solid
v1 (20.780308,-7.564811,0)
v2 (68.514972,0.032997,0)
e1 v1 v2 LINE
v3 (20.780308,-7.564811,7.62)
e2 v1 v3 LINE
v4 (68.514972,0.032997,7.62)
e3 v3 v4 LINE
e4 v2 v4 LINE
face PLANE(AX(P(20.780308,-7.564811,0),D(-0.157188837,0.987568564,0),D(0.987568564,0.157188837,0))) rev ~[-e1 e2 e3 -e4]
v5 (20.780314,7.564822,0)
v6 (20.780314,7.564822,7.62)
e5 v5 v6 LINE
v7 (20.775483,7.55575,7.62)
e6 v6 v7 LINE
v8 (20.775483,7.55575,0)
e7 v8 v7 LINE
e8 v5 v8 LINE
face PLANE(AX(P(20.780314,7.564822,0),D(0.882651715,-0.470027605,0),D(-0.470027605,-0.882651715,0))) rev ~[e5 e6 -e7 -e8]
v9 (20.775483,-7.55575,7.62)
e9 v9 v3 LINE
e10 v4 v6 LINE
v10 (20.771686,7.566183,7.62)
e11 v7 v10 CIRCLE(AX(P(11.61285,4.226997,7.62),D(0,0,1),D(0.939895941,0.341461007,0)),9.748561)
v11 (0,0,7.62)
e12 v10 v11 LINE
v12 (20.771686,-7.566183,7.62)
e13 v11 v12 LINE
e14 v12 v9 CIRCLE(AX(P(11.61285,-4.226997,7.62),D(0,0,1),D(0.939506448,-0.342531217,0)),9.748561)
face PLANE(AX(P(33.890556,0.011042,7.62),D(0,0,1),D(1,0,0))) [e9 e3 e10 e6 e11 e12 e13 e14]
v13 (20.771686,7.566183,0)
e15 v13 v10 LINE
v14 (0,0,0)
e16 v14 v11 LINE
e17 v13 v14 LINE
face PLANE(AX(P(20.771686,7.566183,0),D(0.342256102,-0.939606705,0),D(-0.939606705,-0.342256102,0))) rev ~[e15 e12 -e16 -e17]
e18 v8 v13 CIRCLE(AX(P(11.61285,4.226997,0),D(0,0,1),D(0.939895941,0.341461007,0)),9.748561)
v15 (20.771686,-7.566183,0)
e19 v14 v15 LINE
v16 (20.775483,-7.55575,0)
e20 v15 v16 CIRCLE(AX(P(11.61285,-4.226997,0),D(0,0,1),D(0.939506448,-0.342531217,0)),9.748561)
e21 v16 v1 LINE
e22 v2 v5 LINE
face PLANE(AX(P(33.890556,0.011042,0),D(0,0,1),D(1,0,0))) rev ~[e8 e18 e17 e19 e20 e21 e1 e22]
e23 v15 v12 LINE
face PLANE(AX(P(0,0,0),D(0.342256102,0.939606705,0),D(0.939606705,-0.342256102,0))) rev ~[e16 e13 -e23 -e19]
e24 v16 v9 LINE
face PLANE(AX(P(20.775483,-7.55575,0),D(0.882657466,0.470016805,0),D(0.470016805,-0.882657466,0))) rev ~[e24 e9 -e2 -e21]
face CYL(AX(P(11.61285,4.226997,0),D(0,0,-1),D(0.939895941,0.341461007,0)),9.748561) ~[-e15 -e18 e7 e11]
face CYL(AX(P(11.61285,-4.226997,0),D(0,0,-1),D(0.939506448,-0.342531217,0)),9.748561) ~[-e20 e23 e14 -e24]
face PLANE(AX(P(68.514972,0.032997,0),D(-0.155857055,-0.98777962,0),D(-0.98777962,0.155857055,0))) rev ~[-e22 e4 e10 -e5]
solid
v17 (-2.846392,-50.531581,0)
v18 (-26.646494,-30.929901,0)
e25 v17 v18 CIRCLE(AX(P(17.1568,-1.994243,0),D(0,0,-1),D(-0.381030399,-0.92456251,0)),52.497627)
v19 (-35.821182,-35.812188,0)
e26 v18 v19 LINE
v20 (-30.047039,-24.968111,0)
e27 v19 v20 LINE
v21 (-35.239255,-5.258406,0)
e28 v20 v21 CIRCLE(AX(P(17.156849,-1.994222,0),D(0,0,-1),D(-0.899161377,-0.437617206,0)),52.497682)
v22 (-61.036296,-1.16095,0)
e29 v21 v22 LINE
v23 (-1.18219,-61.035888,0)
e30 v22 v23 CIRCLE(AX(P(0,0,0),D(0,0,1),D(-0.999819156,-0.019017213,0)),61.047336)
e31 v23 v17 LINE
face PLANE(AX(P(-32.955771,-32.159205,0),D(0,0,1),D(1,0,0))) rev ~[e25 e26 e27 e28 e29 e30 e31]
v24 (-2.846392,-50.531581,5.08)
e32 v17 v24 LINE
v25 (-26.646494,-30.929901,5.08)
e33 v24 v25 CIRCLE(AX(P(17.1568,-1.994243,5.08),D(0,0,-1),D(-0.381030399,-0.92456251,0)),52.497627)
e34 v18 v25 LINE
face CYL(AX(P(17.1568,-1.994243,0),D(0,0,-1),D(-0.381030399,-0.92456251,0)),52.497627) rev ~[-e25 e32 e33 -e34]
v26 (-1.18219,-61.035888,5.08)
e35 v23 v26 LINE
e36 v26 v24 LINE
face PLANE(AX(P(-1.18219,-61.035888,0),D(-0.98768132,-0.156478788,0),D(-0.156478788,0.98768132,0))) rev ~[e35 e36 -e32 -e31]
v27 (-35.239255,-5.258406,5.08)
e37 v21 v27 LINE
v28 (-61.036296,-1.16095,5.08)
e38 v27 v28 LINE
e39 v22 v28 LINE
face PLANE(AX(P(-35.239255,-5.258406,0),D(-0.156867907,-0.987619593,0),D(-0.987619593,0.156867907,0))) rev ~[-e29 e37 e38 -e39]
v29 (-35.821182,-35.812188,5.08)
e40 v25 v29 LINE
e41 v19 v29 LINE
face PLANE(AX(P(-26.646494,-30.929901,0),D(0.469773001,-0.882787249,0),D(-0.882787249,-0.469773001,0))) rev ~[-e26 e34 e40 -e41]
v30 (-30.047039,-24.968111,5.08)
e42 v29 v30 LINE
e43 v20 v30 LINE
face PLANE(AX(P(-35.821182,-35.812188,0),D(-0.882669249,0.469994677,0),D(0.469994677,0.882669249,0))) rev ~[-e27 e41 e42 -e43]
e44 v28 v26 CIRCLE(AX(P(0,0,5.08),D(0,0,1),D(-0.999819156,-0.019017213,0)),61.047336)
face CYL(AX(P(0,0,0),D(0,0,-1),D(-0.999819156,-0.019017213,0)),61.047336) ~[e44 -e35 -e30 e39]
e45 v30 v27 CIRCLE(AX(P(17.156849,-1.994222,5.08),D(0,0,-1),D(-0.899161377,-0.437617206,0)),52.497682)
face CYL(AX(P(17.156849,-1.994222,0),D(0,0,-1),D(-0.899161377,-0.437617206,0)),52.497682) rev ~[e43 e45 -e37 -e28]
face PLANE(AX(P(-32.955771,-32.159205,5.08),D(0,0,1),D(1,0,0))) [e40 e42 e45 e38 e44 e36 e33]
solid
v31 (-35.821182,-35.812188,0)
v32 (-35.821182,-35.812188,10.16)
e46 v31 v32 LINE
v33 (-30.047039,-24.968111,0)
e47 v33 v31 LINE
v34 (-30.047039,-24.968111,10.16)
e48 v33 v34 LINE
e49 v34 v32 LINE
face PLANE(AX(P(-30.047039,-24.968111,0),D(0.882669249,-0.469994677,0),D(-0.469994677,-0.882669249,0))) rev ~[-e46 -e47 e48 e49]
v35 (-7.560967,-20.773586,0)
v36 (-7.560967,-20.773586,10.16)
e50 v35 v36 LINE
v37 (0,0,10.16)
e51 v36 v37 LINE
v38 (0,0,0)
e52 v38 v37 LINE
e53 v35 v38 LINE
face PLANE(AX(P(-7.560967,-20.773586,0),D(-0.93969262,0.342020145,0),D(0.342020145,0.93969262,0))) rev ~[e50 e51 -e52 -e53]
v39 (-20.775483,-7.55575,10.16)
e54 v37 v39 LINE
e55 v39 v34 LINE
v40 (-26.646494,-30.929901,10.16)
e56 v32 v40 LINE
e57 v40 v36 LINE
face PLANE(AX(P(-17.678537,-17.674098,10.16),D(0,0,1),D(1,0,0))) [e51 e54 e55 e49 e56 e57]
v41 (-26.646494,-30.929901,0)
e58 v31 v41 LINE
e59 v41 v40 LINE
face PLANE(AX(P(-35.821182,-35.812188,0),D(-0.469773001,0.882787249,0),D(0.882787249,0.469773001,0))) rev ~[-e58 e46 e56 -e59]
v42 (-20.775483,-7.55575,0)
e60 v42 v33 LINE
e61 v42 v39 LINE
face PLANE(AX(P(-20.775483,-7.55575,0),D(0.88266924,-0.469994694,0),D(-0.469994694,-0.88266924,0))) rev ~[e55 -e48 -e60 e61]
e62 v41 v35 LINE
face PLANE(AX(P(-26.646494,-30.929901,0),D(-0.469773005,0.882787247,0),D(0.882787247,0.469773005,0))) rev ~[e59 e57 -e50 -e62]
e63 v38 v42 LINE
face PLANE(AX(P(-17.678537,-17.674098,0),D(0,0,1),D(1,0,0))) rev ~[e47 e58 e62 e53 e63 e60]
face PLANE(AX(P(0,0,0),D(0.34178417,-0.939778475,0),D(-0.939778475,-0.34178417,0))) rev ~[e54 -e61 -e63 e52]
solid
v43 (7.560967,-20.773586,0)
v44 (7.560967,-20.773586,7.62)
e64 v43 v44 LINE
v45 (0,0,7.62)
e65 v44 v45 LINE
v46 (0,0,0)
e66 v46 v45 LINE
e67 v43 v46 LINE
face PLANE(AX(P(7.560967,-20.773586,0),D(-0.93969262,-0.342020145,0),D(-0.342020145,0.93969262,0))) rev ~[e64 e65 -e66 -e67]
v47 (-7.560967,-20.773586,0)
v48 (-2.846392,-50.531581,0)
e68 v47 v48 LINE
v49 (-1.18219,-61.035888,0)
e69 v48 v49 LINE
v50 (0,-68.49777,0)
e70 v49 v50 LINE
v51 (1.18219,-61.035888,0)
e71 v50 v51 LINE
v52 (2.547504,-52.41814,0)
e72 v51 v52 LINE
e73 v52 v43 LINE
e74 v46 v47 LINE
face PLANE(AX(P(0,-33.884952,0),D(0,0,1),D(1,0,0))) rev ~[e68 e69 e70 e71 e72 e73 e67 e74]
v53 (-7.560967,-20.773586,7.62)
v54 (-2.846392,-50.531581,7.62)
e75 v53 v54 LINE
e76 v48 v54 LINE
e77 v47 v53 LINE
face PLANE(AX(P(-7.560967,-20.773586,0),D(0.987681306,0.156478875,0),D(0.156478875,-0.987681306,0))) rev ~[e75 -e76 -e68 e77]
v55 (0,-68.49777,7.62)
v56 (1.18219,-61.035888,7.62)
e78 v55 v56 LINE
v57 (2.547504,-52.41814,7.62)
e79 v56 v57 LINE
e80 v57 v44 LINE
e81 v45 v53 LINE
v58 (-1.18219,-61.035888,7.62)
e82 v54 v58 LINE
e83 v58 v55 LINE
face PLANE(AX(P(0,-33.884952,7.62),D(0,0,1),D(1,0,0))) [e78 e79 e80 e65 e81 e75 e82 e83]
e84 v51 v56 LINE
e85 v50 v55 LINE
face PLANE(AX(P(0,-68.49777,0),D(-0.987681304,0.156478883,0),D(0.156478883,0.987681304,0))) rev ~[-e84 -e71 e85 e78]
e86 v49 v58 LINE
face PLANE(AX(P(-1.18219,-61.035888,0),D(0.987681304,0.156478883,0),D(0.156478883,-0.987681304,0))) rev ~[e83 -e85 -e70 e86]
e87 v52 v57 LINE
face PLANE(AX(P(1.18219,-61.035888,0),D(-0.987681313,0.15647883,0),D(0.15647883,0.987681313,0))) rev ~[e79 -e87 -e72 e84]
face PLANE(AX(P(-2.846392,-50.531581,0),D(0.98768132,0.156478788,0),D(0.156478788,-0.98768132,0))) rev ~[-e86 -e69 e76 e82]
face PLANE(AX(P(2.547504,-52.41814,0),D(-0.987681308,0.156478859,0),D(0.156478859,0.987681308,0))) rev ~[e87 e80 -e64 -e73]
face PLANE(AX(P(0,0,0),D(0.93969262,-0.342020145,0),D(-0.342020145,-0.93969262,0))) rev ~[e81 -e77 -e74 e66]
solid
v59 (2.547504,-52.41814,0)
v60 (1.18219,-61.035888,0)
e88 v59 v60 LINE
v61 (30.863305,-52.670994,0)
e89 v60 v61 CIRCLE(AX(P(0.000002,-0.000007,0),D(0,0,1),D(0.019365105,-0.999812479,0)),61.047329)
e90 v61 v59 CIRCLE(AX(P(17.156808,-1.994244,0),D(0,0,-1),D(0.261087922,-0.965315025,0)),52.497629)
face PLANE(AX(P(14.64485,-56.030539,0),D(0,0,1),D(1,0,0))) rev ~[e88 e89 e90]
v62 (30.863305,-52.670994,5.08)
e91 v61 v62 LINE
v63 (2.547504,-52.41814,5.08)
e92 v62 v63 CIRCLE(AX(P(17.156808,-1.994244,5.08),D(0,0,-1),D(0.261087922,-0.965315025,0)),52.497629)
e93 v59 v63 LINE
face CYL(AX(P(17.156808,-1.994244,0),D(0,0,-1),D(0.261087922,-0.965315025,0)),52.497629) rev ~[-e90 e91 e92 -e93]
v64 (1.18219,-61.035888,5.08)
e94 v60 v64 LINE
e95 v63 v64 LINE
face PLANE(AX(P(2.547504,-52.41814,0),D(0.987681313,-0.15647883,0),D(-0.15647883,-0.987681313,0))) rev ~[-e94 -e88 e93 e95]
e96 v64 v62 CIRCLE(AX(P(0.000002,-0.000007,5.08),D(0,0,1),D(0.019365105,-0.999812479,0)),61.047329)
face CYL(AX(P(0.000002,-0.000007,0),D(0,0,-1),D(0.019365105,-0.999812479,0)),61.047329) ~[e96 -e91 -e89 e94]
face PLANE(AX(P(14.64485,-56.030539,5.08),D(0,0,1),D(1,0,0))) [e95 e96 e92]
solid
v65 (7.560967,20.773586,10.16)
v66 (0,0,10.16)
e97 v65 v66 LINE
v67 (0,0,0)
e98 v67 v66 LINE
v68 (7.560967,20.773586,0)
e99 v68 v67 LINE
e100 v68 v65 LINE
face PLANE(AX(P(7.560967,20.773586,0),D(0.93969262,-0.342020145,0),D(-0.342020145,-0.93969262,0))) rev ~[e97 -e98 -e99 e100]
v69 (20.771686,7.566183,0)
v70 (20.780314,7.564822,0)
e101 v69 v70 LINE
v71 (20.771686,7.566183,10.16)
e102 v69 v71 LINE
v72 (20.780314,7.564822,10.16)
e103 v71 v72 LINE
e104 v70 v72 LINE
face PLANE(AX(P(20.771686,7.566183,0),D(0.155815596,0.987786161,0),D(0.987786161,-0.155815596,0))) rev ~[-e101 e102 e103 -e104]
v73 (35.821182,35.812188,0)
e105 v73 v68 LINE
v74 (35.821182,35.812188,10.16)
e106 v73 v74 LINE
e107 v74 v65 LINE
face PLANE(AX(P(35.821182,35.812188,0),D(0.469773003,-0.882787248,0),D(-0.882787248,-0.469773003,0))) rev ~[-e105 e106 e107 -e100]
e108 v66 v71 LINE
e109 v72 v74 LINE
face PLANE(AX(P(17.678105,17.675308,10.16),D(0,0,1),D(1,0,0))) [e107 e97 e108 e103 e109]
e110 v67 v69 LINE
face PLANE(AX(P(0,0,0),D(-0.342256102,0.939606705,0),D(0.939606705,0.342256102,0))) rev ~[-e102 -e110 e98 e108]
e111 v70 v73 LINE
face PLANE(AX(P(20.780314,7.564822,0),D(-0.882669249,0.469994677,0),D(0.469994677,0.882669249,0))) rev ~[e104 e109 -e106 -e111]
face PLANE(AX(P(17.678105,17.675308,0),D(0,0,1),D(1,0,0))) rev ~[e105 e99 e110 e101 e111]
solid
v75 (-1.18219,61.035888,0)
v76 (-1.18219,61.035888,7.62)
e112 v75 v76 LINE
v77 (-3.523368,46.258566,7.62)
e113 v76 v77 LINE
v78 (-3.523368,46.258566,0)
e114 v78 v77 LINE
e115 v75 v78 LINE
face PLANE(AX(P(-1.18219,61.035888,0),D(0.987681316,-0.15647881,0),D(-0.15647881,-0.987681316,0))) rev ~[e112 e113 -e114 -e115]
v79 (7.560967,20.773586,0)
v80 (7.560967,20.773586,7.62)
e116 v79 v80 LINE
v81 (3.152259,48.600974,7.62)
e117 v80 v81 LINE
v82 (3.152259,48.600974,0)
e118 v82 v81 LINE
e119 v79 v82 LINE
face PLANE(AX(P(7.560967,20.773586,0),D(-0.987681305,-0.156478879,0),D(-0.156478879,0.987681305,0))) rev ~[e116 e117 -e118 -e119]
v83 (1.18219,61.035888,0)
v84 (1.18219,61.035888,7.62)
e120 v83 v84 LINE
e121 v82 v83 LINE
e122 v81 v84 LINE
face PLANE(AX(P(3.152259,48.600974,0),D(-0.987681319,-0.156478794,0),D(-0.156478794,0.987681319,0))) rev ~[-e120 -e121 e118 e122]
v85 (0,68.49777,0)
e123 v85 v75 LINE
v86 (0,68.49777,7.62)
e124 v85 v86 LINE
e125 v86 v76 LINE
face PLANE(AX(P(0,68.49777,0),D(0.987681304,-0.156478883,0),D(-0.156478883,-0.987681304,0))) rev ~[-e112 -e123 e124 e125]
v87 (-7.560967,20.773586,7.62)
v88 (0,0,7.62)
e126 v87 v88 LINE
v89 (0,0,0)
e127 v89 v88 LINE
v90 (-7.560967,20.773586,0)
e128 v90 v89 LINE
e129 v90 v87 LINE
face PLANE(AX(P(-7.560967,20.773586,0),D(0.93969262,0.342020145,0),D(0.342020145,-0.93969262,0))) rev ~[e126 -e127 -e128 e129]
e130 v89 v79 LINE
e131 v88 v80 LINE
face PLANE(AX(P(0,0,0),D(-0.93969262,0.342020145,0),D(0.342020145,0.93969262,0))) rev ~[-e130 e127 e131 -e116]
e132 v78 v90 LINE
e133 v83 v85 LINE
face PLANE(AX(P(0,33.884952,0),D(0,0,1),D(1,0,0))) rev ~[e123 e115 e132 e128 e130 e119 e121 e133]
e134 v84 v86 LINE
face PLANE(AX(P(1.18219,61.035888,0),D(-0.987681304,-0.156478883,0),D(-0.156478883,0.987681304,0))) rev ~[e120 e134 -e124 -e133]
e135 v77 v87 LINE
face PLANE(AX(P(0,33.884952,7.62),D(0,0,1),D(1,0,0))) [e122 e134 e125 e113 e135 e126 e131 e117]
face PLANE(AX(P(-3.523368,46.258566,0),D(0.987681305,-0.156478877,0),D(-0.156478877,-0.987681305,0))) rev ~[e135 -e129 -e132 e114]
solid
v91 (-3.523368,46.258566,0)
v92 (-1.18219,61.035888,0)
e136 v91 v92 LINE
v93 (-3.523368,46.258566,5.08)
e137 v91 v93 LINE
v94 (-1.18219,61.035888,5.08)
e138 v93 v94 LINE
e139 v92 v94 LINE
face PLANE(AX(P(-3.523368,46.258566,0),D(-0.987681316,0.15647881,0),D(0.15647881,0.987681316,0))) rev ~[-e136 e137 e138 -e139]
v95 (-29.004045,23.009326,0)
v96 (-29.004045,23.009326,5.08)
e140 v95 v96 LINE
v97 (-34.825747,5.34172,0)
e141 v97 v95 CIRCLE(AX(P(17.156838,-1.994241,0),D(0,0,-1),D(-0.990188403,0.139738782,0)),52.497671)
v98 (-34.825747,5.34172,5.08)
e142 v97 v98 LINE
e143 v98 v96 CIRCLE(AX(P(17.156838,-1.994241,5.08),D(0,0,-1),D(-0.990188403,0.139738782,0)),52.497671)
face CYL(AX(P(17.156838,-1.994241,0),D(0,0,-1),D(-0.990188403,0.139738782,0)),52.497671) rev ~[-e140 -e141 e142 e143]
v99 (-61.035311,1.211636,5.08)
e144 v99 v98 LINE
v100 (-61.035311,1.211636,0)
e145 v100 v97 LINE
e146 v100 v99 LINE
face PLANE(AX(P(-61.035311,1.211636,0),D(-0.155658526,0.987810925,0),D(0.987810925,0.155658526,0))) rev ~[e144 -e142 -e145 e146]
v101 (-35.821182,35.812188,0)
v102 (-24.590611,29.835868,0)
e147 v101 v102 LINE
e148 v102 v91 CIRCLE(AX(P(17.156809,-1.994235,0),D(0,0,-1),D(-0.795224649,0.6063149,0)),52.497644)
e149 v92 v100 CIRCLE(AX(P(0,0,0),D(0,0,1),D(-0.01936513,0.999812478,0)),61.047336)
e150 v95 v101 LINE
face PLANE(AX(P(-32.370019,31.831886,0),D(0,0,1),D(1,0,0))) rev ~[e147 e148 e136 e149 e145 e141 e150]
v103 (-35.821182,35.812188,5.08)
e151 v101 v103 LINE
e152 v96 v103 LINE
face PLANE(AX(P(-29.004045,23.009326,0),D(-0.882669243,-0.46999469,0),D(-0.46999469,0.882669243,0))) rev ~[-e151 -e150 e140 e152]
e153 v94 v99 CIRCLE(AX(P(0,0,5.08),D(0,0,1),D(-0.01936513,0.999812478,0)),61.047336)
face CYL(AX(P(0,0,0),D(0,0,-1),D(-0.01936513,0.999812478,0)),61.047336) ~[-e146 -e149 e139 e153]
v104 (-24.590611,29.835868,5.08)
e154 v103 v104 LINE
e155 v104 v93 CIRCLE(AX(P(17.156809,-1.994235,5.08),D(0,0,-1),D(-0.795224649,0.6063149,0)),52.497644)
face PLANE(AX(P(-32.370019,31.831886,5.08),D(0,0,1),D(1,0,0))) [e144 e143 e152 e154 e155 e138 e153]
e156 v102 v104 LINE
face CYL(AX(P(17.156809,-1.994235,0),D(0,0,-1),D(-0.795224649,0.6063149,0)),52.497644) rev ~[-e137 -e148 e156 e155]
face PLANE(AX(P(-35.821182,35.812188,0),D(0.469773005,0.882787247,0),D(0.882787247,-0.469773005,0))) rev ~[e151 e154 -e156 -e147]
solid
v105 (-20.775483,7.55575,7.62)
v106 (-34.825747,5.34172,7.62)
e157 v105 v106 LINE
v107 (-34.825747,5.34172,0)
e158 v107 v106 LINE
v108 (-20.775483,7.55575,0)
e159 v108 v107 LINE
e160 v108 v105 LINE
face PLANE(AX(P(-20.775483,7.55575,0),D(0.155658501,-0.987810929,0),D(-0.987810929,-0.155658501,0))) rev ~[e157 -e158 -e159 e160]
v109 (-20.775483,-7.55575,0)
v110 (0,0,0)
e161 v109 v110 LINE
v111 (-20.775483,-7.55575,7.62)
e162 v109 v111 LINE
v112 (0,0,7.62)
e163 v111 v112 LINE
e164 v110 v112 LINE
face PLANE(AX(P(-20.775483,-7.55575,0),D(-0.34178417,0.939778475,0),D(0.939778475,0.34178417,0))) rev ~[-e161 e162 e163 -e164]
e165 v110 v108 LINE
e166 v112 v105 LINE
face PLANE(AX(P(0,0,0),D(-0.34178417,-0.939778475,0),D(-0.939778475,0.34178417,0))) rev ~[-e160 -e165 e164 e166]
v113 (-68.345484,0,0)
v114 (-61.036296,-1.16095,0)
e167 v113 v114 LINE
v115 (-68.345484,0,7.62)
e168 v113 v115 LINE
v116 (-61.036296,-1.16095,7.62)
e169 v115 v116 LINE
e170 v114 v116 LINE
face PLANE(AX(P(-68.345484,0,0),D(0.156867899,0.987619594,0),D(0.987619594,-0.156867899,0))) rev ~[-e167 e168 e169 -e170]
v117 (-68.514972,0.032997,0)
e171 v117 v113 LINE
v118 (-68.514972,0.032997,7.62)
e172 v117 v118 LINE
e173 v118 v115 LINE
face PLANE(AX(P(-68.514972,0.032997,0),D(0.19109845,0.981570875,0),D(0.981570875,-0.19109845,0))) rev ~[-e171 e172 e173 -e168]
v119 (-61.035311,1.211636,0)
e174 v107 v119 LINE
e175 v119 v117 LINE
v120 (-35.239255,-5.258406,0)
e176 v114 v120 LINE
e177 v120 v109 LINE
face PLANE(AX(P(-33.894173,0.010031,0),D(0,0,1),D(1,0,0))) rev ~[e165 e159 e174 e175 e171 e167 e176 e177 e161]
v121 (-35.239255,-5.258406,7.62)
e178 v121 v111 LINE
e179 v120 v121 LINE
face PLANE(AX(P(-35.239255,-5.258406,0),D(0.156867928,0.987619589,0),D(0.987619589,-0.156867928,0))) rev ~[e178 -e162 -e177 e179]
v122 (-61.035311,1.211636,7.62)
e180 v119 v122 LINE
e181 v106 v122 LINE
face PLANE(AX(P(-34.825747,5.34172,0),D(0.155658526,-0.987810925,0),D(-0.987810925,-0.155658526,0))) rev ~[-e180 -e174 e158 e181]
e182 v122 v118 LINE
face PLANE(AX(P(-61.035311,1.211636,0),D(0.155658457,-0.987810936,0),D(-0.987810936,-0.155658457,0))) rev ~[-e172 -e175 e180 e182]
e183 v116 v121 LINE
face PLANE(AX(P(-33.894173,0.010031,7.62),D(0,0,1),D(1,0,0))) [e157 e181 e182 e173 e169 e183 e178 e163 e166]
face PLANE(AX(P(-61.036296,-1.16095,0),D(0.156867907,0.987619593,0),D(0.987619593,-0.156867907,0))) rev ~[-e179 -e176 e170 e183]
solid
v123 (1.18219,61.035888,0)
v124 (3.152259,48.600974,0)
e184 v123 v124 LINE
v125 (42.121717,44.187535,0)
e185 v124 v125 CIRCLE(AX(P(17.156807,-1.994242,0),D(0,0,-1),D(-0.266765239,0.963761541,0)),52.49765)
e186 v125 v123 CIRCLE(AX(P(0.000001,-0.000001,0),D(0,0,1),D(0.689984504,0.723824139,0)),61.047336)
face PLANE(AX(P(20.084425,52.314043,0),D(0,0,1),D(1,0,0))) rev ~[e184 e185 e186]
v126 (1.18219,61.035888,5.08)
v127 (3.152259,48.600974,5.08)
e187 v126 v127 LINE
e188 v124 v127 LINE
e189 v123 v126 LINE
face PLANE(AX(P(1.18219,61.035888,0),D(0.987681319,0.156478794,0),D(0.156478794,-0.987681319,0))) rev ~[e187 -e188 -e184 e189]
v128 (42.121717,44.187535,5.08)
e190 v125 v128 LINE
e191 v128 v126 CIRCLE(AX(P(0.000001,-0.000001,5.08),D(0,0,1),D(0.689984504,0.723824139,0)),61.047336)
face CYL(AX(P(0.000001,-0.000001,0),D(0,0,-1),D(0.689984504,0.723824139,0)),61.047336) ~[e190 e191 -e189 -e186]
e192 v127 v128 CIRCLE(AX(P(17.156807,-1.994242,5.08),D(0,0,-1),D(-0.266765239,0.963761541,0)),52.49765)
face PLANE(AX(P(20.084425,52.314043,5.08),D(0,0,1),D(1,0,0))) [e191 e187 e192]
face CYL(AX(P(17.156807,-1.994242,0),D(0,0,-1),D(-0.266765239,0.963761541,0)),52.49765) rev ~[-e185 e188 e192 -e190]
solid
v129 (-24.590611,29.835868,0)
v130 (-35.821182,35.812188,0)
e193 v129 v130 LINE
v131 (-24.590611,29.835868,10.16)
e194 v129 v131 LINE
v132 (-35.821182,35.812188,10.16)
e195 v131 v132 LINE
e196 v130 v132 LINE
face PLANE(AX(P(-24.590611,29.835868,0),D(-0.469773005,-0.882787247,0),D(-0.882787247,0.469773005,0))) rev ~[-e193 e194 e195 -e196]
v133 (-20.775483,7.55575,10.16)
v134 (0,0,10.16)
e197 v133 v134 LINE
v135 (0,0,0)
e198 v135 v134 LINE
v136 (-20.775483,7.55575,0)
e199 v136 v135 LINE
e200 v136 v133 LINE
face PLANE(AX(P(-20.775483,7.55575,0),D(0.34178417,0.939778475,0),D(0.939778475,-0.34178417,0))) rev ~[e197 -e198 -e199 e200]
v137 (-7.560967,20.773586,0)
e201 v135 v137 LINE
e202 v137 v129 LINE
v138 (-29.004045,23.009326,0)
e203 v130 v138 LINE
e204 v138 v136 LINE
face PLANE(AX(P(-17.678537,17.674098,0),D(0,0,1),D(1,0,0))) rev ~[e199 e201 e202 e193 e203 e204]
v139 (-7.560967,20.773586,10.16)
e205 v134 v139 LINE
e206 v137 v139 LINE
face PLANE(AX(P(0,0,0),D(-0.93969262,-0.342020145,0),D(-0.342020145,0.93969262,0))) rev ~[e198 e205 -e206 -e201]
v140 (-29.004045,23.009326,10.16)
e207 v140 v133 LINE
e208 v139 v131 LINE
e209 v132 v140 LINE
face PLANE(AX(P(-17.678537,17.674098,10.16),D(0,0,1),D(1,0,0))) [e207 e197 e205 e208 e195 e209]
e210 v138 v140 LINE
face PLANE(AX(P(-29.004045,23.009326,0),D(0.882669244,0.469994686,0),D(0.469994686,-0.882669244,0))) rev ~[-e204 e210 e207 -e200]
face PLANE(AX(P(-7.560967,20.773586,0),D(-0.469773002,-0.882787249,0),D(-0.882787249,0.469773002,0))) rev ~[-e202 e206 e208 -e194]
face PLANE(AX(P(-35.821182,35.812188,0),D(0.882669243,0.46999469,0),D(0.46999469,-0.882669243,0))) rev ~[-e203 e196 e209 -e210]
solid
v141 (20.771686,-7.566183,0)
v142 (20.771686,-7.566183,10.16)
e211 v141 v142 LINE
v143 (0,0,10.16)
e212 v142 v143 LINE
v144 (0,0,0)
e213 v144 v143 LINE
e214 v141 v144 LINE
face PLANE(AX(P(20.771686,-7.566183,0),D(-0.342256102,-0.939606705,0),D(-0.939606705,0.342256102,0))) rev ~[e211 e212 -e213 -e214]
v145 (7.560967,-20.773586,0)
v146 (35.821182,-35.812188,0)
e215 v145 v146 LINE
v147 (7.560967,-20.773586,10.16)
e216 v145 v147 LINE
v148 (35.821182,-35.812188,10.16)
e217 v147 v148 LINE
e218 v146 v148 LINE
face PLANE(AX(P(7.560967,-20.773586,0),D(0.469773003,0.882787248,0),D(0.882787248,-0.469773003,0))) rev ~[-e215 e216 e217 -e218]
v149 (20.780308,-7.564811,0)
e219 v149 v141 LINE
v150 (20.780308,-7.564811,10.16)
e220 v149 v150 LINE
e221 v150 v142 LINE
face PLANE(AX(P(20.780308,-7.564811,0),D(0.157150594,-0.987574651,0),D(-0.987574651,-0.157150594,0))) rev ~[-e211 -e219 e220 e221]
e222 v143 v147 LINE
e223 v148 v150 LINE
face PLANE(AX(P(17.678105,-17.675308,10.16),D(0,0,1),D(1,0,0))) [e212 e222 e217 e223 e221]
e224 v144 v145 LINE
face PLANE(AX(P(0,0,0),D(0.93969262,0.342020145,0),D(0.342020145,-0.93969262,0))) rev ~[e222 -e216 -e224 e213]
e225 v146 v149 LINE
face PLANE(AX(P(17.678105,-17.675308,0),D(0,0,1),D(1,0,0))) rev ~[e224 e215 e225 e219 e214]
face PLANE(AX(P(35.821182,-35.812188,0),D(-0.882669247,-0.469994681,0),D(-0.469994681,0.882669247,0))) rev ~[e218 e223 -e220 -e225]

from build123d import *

# Parameters (mm, degrees)
F1_DEPTH = 5.08
F2_DEPTH = 7.62
F3_DEPTH = 10.16


with BuildPart() as f1:
    # F0 (on Top) → F1 (new body)
    with BuildSketch(Plane.XY):
        with BuildLine():
            Line((1.18219, 61.035888), (3.152259, 48.600974))
            ThreePointArc((3.152259, 48.600974), (23.064598, 50.169934), (42.121717, 44.187535))
            ThreePointArc((42.121717, 44.187535), (23.233033, 56.453551), (1.18219, 61.035888))
        make_face()
        with BuildLine():
            ThreePointArc((-24.590611, 29.835868), (-15.118994, 39.40957), (-3.523368, 46.258566))
            Line((-3.523368, 46.258566), (-1.18219, 61.035888))
            ThreePointArc((-1.18219, 61.035888), (-43.156571, 43.177397), (-61.035311, 1.211636))
            Line((-61.035311, 1.211636), (-34.825747, 5.34172))
            ThreePointArc((-34.825747, 5.34172), (-32.703679, 14.435437), (-29.004045, 23.009326))
            Line((-29.004045, 23.009326), (-35.821182, 35.812188))
            Line((-35.821182, 35.812188), (-24.590611, 29.835868))
        make_face()
        with BuildLine():
            Line((-1.18219, -61.035888), (-2.846392, -50.531581))
            ThreePointArc((-2.846392, -50.531581), (-16.217942, -42.517415), (-26.646494, -30.929901))
            Line((-26.646494, -30.929901), (-35.821182, -35.812188))
            Line((-35.821182, -35.812188), (-30.047039, -24.968111))
            ThreePointArc((-30.047039, -24.968111), (-33.608865, -15.367662), (-35.239255, -5.258406))
            Line((-35.239255, -5.258406), (-61.036296, -1.16095))
            ThreePointArc((-61.036296, -1.16095), (-43.174495, -43.159474), (-1.18219, -61.035888))
        make_face()
        with BuildLine():
            ThreePointArc((30.863305, -52.670994), (16.688034, -54.48978), (2.547504, -52.41814))
            Line((2.547504, -52.41814), (1.18219, -61.035888))
            ThreePointArc((1.18219, -61.035888), (16.559629, -58.758454), (30.863305, -52.670994))
        make_face()
    extrude(amount=F1_DEPTH)


with BuildPart() as f2:
    # F0 (on Top) → F2 (new body)
    with BuildSketch(Plane.XY):
        Polygon((-20.775483, -7.55575), (0, 0), (-20.775483, 7.55575), (-34.825747, 5.34172), (-61.035311, 1.211636), (-68.514972, 0.032997), (-68.345484, 0), (-61.036296, -1.16095), (-35.239255, -5.258406), align=None)
        Polygon((-7.560967, 20.773586), (0, 0), (7.560967, 20.773586), (3.152259, 48.600974), (1.18219, 61.035888), (0, 68.49777), (-1.18219, 61.035888), (-3.523368, 46.258566), align=None)
        with BuildLine():
            Line((20.780308, -7.564811), (68.514972, 0.032997))
            Line((68.514972, 0.032997), (20.780314, 7.564822))
            Line((20.780314, 7.564822), (20.775483, 7.55575))
            ThreePointArc((20.775483, 7.55575), (20.773586, 7.560967), (20.771686, 7.566183))
            Line((20.771686, 7.566183), (0, 0))
            Line((0, 0), (20.771686, -7.566183))
            ThreePointArc((20.771686, -7.566183), (20.773586, -7.560967), (20.775483, -7.55575))
            Line((20.775483, -7.55575), (20.780308, -7.564811))
        make_face()
        Polygon((7.560967, -20.773586), (0, 0), (-7.560967, -20.773586), (-2.846392, -50.531581), (-1.18219, -61.035888), (0, -68.49777), (1.18219, -61.035888), (2.547504, -52.41814), align=None)
    extrude(amount=F2_DEPTH)


with BuildPart() as f3:
    # F0 (on Top) → F3 (new body)
    with BuildSketch(Plane.XY):
        Polygon((-20.775483, 7.55575), (0, 0), (-7.560967, 20.773586), (-24.590611, 29.835868), (-35.821182, 35.812188), (-29.004045, 23.009326), align=None)
        Polygon((20.771686, 7.566183), (20.780314, 7.564822), (35.821182, 35.812188), (7.560967, 20.773586), (0, 0), align=None)
        Polygon((35.821182, -35.812188), (20.780308, -7.564811), (20.771686, -7.566183), (0, 0), (7.560967, -20.773586), align=None)
        Polygon((-7.560967, -20.773586), (0, 0), (-20.775483, -7.55575), (-30.047039, -24.968111), (-35.821182, -35.812188), (-26.646494, -30.929901), align=None)
    extrude(amount=F3_DEPTH)


solid = Compound([f1.part, f2.part, f3.part])
